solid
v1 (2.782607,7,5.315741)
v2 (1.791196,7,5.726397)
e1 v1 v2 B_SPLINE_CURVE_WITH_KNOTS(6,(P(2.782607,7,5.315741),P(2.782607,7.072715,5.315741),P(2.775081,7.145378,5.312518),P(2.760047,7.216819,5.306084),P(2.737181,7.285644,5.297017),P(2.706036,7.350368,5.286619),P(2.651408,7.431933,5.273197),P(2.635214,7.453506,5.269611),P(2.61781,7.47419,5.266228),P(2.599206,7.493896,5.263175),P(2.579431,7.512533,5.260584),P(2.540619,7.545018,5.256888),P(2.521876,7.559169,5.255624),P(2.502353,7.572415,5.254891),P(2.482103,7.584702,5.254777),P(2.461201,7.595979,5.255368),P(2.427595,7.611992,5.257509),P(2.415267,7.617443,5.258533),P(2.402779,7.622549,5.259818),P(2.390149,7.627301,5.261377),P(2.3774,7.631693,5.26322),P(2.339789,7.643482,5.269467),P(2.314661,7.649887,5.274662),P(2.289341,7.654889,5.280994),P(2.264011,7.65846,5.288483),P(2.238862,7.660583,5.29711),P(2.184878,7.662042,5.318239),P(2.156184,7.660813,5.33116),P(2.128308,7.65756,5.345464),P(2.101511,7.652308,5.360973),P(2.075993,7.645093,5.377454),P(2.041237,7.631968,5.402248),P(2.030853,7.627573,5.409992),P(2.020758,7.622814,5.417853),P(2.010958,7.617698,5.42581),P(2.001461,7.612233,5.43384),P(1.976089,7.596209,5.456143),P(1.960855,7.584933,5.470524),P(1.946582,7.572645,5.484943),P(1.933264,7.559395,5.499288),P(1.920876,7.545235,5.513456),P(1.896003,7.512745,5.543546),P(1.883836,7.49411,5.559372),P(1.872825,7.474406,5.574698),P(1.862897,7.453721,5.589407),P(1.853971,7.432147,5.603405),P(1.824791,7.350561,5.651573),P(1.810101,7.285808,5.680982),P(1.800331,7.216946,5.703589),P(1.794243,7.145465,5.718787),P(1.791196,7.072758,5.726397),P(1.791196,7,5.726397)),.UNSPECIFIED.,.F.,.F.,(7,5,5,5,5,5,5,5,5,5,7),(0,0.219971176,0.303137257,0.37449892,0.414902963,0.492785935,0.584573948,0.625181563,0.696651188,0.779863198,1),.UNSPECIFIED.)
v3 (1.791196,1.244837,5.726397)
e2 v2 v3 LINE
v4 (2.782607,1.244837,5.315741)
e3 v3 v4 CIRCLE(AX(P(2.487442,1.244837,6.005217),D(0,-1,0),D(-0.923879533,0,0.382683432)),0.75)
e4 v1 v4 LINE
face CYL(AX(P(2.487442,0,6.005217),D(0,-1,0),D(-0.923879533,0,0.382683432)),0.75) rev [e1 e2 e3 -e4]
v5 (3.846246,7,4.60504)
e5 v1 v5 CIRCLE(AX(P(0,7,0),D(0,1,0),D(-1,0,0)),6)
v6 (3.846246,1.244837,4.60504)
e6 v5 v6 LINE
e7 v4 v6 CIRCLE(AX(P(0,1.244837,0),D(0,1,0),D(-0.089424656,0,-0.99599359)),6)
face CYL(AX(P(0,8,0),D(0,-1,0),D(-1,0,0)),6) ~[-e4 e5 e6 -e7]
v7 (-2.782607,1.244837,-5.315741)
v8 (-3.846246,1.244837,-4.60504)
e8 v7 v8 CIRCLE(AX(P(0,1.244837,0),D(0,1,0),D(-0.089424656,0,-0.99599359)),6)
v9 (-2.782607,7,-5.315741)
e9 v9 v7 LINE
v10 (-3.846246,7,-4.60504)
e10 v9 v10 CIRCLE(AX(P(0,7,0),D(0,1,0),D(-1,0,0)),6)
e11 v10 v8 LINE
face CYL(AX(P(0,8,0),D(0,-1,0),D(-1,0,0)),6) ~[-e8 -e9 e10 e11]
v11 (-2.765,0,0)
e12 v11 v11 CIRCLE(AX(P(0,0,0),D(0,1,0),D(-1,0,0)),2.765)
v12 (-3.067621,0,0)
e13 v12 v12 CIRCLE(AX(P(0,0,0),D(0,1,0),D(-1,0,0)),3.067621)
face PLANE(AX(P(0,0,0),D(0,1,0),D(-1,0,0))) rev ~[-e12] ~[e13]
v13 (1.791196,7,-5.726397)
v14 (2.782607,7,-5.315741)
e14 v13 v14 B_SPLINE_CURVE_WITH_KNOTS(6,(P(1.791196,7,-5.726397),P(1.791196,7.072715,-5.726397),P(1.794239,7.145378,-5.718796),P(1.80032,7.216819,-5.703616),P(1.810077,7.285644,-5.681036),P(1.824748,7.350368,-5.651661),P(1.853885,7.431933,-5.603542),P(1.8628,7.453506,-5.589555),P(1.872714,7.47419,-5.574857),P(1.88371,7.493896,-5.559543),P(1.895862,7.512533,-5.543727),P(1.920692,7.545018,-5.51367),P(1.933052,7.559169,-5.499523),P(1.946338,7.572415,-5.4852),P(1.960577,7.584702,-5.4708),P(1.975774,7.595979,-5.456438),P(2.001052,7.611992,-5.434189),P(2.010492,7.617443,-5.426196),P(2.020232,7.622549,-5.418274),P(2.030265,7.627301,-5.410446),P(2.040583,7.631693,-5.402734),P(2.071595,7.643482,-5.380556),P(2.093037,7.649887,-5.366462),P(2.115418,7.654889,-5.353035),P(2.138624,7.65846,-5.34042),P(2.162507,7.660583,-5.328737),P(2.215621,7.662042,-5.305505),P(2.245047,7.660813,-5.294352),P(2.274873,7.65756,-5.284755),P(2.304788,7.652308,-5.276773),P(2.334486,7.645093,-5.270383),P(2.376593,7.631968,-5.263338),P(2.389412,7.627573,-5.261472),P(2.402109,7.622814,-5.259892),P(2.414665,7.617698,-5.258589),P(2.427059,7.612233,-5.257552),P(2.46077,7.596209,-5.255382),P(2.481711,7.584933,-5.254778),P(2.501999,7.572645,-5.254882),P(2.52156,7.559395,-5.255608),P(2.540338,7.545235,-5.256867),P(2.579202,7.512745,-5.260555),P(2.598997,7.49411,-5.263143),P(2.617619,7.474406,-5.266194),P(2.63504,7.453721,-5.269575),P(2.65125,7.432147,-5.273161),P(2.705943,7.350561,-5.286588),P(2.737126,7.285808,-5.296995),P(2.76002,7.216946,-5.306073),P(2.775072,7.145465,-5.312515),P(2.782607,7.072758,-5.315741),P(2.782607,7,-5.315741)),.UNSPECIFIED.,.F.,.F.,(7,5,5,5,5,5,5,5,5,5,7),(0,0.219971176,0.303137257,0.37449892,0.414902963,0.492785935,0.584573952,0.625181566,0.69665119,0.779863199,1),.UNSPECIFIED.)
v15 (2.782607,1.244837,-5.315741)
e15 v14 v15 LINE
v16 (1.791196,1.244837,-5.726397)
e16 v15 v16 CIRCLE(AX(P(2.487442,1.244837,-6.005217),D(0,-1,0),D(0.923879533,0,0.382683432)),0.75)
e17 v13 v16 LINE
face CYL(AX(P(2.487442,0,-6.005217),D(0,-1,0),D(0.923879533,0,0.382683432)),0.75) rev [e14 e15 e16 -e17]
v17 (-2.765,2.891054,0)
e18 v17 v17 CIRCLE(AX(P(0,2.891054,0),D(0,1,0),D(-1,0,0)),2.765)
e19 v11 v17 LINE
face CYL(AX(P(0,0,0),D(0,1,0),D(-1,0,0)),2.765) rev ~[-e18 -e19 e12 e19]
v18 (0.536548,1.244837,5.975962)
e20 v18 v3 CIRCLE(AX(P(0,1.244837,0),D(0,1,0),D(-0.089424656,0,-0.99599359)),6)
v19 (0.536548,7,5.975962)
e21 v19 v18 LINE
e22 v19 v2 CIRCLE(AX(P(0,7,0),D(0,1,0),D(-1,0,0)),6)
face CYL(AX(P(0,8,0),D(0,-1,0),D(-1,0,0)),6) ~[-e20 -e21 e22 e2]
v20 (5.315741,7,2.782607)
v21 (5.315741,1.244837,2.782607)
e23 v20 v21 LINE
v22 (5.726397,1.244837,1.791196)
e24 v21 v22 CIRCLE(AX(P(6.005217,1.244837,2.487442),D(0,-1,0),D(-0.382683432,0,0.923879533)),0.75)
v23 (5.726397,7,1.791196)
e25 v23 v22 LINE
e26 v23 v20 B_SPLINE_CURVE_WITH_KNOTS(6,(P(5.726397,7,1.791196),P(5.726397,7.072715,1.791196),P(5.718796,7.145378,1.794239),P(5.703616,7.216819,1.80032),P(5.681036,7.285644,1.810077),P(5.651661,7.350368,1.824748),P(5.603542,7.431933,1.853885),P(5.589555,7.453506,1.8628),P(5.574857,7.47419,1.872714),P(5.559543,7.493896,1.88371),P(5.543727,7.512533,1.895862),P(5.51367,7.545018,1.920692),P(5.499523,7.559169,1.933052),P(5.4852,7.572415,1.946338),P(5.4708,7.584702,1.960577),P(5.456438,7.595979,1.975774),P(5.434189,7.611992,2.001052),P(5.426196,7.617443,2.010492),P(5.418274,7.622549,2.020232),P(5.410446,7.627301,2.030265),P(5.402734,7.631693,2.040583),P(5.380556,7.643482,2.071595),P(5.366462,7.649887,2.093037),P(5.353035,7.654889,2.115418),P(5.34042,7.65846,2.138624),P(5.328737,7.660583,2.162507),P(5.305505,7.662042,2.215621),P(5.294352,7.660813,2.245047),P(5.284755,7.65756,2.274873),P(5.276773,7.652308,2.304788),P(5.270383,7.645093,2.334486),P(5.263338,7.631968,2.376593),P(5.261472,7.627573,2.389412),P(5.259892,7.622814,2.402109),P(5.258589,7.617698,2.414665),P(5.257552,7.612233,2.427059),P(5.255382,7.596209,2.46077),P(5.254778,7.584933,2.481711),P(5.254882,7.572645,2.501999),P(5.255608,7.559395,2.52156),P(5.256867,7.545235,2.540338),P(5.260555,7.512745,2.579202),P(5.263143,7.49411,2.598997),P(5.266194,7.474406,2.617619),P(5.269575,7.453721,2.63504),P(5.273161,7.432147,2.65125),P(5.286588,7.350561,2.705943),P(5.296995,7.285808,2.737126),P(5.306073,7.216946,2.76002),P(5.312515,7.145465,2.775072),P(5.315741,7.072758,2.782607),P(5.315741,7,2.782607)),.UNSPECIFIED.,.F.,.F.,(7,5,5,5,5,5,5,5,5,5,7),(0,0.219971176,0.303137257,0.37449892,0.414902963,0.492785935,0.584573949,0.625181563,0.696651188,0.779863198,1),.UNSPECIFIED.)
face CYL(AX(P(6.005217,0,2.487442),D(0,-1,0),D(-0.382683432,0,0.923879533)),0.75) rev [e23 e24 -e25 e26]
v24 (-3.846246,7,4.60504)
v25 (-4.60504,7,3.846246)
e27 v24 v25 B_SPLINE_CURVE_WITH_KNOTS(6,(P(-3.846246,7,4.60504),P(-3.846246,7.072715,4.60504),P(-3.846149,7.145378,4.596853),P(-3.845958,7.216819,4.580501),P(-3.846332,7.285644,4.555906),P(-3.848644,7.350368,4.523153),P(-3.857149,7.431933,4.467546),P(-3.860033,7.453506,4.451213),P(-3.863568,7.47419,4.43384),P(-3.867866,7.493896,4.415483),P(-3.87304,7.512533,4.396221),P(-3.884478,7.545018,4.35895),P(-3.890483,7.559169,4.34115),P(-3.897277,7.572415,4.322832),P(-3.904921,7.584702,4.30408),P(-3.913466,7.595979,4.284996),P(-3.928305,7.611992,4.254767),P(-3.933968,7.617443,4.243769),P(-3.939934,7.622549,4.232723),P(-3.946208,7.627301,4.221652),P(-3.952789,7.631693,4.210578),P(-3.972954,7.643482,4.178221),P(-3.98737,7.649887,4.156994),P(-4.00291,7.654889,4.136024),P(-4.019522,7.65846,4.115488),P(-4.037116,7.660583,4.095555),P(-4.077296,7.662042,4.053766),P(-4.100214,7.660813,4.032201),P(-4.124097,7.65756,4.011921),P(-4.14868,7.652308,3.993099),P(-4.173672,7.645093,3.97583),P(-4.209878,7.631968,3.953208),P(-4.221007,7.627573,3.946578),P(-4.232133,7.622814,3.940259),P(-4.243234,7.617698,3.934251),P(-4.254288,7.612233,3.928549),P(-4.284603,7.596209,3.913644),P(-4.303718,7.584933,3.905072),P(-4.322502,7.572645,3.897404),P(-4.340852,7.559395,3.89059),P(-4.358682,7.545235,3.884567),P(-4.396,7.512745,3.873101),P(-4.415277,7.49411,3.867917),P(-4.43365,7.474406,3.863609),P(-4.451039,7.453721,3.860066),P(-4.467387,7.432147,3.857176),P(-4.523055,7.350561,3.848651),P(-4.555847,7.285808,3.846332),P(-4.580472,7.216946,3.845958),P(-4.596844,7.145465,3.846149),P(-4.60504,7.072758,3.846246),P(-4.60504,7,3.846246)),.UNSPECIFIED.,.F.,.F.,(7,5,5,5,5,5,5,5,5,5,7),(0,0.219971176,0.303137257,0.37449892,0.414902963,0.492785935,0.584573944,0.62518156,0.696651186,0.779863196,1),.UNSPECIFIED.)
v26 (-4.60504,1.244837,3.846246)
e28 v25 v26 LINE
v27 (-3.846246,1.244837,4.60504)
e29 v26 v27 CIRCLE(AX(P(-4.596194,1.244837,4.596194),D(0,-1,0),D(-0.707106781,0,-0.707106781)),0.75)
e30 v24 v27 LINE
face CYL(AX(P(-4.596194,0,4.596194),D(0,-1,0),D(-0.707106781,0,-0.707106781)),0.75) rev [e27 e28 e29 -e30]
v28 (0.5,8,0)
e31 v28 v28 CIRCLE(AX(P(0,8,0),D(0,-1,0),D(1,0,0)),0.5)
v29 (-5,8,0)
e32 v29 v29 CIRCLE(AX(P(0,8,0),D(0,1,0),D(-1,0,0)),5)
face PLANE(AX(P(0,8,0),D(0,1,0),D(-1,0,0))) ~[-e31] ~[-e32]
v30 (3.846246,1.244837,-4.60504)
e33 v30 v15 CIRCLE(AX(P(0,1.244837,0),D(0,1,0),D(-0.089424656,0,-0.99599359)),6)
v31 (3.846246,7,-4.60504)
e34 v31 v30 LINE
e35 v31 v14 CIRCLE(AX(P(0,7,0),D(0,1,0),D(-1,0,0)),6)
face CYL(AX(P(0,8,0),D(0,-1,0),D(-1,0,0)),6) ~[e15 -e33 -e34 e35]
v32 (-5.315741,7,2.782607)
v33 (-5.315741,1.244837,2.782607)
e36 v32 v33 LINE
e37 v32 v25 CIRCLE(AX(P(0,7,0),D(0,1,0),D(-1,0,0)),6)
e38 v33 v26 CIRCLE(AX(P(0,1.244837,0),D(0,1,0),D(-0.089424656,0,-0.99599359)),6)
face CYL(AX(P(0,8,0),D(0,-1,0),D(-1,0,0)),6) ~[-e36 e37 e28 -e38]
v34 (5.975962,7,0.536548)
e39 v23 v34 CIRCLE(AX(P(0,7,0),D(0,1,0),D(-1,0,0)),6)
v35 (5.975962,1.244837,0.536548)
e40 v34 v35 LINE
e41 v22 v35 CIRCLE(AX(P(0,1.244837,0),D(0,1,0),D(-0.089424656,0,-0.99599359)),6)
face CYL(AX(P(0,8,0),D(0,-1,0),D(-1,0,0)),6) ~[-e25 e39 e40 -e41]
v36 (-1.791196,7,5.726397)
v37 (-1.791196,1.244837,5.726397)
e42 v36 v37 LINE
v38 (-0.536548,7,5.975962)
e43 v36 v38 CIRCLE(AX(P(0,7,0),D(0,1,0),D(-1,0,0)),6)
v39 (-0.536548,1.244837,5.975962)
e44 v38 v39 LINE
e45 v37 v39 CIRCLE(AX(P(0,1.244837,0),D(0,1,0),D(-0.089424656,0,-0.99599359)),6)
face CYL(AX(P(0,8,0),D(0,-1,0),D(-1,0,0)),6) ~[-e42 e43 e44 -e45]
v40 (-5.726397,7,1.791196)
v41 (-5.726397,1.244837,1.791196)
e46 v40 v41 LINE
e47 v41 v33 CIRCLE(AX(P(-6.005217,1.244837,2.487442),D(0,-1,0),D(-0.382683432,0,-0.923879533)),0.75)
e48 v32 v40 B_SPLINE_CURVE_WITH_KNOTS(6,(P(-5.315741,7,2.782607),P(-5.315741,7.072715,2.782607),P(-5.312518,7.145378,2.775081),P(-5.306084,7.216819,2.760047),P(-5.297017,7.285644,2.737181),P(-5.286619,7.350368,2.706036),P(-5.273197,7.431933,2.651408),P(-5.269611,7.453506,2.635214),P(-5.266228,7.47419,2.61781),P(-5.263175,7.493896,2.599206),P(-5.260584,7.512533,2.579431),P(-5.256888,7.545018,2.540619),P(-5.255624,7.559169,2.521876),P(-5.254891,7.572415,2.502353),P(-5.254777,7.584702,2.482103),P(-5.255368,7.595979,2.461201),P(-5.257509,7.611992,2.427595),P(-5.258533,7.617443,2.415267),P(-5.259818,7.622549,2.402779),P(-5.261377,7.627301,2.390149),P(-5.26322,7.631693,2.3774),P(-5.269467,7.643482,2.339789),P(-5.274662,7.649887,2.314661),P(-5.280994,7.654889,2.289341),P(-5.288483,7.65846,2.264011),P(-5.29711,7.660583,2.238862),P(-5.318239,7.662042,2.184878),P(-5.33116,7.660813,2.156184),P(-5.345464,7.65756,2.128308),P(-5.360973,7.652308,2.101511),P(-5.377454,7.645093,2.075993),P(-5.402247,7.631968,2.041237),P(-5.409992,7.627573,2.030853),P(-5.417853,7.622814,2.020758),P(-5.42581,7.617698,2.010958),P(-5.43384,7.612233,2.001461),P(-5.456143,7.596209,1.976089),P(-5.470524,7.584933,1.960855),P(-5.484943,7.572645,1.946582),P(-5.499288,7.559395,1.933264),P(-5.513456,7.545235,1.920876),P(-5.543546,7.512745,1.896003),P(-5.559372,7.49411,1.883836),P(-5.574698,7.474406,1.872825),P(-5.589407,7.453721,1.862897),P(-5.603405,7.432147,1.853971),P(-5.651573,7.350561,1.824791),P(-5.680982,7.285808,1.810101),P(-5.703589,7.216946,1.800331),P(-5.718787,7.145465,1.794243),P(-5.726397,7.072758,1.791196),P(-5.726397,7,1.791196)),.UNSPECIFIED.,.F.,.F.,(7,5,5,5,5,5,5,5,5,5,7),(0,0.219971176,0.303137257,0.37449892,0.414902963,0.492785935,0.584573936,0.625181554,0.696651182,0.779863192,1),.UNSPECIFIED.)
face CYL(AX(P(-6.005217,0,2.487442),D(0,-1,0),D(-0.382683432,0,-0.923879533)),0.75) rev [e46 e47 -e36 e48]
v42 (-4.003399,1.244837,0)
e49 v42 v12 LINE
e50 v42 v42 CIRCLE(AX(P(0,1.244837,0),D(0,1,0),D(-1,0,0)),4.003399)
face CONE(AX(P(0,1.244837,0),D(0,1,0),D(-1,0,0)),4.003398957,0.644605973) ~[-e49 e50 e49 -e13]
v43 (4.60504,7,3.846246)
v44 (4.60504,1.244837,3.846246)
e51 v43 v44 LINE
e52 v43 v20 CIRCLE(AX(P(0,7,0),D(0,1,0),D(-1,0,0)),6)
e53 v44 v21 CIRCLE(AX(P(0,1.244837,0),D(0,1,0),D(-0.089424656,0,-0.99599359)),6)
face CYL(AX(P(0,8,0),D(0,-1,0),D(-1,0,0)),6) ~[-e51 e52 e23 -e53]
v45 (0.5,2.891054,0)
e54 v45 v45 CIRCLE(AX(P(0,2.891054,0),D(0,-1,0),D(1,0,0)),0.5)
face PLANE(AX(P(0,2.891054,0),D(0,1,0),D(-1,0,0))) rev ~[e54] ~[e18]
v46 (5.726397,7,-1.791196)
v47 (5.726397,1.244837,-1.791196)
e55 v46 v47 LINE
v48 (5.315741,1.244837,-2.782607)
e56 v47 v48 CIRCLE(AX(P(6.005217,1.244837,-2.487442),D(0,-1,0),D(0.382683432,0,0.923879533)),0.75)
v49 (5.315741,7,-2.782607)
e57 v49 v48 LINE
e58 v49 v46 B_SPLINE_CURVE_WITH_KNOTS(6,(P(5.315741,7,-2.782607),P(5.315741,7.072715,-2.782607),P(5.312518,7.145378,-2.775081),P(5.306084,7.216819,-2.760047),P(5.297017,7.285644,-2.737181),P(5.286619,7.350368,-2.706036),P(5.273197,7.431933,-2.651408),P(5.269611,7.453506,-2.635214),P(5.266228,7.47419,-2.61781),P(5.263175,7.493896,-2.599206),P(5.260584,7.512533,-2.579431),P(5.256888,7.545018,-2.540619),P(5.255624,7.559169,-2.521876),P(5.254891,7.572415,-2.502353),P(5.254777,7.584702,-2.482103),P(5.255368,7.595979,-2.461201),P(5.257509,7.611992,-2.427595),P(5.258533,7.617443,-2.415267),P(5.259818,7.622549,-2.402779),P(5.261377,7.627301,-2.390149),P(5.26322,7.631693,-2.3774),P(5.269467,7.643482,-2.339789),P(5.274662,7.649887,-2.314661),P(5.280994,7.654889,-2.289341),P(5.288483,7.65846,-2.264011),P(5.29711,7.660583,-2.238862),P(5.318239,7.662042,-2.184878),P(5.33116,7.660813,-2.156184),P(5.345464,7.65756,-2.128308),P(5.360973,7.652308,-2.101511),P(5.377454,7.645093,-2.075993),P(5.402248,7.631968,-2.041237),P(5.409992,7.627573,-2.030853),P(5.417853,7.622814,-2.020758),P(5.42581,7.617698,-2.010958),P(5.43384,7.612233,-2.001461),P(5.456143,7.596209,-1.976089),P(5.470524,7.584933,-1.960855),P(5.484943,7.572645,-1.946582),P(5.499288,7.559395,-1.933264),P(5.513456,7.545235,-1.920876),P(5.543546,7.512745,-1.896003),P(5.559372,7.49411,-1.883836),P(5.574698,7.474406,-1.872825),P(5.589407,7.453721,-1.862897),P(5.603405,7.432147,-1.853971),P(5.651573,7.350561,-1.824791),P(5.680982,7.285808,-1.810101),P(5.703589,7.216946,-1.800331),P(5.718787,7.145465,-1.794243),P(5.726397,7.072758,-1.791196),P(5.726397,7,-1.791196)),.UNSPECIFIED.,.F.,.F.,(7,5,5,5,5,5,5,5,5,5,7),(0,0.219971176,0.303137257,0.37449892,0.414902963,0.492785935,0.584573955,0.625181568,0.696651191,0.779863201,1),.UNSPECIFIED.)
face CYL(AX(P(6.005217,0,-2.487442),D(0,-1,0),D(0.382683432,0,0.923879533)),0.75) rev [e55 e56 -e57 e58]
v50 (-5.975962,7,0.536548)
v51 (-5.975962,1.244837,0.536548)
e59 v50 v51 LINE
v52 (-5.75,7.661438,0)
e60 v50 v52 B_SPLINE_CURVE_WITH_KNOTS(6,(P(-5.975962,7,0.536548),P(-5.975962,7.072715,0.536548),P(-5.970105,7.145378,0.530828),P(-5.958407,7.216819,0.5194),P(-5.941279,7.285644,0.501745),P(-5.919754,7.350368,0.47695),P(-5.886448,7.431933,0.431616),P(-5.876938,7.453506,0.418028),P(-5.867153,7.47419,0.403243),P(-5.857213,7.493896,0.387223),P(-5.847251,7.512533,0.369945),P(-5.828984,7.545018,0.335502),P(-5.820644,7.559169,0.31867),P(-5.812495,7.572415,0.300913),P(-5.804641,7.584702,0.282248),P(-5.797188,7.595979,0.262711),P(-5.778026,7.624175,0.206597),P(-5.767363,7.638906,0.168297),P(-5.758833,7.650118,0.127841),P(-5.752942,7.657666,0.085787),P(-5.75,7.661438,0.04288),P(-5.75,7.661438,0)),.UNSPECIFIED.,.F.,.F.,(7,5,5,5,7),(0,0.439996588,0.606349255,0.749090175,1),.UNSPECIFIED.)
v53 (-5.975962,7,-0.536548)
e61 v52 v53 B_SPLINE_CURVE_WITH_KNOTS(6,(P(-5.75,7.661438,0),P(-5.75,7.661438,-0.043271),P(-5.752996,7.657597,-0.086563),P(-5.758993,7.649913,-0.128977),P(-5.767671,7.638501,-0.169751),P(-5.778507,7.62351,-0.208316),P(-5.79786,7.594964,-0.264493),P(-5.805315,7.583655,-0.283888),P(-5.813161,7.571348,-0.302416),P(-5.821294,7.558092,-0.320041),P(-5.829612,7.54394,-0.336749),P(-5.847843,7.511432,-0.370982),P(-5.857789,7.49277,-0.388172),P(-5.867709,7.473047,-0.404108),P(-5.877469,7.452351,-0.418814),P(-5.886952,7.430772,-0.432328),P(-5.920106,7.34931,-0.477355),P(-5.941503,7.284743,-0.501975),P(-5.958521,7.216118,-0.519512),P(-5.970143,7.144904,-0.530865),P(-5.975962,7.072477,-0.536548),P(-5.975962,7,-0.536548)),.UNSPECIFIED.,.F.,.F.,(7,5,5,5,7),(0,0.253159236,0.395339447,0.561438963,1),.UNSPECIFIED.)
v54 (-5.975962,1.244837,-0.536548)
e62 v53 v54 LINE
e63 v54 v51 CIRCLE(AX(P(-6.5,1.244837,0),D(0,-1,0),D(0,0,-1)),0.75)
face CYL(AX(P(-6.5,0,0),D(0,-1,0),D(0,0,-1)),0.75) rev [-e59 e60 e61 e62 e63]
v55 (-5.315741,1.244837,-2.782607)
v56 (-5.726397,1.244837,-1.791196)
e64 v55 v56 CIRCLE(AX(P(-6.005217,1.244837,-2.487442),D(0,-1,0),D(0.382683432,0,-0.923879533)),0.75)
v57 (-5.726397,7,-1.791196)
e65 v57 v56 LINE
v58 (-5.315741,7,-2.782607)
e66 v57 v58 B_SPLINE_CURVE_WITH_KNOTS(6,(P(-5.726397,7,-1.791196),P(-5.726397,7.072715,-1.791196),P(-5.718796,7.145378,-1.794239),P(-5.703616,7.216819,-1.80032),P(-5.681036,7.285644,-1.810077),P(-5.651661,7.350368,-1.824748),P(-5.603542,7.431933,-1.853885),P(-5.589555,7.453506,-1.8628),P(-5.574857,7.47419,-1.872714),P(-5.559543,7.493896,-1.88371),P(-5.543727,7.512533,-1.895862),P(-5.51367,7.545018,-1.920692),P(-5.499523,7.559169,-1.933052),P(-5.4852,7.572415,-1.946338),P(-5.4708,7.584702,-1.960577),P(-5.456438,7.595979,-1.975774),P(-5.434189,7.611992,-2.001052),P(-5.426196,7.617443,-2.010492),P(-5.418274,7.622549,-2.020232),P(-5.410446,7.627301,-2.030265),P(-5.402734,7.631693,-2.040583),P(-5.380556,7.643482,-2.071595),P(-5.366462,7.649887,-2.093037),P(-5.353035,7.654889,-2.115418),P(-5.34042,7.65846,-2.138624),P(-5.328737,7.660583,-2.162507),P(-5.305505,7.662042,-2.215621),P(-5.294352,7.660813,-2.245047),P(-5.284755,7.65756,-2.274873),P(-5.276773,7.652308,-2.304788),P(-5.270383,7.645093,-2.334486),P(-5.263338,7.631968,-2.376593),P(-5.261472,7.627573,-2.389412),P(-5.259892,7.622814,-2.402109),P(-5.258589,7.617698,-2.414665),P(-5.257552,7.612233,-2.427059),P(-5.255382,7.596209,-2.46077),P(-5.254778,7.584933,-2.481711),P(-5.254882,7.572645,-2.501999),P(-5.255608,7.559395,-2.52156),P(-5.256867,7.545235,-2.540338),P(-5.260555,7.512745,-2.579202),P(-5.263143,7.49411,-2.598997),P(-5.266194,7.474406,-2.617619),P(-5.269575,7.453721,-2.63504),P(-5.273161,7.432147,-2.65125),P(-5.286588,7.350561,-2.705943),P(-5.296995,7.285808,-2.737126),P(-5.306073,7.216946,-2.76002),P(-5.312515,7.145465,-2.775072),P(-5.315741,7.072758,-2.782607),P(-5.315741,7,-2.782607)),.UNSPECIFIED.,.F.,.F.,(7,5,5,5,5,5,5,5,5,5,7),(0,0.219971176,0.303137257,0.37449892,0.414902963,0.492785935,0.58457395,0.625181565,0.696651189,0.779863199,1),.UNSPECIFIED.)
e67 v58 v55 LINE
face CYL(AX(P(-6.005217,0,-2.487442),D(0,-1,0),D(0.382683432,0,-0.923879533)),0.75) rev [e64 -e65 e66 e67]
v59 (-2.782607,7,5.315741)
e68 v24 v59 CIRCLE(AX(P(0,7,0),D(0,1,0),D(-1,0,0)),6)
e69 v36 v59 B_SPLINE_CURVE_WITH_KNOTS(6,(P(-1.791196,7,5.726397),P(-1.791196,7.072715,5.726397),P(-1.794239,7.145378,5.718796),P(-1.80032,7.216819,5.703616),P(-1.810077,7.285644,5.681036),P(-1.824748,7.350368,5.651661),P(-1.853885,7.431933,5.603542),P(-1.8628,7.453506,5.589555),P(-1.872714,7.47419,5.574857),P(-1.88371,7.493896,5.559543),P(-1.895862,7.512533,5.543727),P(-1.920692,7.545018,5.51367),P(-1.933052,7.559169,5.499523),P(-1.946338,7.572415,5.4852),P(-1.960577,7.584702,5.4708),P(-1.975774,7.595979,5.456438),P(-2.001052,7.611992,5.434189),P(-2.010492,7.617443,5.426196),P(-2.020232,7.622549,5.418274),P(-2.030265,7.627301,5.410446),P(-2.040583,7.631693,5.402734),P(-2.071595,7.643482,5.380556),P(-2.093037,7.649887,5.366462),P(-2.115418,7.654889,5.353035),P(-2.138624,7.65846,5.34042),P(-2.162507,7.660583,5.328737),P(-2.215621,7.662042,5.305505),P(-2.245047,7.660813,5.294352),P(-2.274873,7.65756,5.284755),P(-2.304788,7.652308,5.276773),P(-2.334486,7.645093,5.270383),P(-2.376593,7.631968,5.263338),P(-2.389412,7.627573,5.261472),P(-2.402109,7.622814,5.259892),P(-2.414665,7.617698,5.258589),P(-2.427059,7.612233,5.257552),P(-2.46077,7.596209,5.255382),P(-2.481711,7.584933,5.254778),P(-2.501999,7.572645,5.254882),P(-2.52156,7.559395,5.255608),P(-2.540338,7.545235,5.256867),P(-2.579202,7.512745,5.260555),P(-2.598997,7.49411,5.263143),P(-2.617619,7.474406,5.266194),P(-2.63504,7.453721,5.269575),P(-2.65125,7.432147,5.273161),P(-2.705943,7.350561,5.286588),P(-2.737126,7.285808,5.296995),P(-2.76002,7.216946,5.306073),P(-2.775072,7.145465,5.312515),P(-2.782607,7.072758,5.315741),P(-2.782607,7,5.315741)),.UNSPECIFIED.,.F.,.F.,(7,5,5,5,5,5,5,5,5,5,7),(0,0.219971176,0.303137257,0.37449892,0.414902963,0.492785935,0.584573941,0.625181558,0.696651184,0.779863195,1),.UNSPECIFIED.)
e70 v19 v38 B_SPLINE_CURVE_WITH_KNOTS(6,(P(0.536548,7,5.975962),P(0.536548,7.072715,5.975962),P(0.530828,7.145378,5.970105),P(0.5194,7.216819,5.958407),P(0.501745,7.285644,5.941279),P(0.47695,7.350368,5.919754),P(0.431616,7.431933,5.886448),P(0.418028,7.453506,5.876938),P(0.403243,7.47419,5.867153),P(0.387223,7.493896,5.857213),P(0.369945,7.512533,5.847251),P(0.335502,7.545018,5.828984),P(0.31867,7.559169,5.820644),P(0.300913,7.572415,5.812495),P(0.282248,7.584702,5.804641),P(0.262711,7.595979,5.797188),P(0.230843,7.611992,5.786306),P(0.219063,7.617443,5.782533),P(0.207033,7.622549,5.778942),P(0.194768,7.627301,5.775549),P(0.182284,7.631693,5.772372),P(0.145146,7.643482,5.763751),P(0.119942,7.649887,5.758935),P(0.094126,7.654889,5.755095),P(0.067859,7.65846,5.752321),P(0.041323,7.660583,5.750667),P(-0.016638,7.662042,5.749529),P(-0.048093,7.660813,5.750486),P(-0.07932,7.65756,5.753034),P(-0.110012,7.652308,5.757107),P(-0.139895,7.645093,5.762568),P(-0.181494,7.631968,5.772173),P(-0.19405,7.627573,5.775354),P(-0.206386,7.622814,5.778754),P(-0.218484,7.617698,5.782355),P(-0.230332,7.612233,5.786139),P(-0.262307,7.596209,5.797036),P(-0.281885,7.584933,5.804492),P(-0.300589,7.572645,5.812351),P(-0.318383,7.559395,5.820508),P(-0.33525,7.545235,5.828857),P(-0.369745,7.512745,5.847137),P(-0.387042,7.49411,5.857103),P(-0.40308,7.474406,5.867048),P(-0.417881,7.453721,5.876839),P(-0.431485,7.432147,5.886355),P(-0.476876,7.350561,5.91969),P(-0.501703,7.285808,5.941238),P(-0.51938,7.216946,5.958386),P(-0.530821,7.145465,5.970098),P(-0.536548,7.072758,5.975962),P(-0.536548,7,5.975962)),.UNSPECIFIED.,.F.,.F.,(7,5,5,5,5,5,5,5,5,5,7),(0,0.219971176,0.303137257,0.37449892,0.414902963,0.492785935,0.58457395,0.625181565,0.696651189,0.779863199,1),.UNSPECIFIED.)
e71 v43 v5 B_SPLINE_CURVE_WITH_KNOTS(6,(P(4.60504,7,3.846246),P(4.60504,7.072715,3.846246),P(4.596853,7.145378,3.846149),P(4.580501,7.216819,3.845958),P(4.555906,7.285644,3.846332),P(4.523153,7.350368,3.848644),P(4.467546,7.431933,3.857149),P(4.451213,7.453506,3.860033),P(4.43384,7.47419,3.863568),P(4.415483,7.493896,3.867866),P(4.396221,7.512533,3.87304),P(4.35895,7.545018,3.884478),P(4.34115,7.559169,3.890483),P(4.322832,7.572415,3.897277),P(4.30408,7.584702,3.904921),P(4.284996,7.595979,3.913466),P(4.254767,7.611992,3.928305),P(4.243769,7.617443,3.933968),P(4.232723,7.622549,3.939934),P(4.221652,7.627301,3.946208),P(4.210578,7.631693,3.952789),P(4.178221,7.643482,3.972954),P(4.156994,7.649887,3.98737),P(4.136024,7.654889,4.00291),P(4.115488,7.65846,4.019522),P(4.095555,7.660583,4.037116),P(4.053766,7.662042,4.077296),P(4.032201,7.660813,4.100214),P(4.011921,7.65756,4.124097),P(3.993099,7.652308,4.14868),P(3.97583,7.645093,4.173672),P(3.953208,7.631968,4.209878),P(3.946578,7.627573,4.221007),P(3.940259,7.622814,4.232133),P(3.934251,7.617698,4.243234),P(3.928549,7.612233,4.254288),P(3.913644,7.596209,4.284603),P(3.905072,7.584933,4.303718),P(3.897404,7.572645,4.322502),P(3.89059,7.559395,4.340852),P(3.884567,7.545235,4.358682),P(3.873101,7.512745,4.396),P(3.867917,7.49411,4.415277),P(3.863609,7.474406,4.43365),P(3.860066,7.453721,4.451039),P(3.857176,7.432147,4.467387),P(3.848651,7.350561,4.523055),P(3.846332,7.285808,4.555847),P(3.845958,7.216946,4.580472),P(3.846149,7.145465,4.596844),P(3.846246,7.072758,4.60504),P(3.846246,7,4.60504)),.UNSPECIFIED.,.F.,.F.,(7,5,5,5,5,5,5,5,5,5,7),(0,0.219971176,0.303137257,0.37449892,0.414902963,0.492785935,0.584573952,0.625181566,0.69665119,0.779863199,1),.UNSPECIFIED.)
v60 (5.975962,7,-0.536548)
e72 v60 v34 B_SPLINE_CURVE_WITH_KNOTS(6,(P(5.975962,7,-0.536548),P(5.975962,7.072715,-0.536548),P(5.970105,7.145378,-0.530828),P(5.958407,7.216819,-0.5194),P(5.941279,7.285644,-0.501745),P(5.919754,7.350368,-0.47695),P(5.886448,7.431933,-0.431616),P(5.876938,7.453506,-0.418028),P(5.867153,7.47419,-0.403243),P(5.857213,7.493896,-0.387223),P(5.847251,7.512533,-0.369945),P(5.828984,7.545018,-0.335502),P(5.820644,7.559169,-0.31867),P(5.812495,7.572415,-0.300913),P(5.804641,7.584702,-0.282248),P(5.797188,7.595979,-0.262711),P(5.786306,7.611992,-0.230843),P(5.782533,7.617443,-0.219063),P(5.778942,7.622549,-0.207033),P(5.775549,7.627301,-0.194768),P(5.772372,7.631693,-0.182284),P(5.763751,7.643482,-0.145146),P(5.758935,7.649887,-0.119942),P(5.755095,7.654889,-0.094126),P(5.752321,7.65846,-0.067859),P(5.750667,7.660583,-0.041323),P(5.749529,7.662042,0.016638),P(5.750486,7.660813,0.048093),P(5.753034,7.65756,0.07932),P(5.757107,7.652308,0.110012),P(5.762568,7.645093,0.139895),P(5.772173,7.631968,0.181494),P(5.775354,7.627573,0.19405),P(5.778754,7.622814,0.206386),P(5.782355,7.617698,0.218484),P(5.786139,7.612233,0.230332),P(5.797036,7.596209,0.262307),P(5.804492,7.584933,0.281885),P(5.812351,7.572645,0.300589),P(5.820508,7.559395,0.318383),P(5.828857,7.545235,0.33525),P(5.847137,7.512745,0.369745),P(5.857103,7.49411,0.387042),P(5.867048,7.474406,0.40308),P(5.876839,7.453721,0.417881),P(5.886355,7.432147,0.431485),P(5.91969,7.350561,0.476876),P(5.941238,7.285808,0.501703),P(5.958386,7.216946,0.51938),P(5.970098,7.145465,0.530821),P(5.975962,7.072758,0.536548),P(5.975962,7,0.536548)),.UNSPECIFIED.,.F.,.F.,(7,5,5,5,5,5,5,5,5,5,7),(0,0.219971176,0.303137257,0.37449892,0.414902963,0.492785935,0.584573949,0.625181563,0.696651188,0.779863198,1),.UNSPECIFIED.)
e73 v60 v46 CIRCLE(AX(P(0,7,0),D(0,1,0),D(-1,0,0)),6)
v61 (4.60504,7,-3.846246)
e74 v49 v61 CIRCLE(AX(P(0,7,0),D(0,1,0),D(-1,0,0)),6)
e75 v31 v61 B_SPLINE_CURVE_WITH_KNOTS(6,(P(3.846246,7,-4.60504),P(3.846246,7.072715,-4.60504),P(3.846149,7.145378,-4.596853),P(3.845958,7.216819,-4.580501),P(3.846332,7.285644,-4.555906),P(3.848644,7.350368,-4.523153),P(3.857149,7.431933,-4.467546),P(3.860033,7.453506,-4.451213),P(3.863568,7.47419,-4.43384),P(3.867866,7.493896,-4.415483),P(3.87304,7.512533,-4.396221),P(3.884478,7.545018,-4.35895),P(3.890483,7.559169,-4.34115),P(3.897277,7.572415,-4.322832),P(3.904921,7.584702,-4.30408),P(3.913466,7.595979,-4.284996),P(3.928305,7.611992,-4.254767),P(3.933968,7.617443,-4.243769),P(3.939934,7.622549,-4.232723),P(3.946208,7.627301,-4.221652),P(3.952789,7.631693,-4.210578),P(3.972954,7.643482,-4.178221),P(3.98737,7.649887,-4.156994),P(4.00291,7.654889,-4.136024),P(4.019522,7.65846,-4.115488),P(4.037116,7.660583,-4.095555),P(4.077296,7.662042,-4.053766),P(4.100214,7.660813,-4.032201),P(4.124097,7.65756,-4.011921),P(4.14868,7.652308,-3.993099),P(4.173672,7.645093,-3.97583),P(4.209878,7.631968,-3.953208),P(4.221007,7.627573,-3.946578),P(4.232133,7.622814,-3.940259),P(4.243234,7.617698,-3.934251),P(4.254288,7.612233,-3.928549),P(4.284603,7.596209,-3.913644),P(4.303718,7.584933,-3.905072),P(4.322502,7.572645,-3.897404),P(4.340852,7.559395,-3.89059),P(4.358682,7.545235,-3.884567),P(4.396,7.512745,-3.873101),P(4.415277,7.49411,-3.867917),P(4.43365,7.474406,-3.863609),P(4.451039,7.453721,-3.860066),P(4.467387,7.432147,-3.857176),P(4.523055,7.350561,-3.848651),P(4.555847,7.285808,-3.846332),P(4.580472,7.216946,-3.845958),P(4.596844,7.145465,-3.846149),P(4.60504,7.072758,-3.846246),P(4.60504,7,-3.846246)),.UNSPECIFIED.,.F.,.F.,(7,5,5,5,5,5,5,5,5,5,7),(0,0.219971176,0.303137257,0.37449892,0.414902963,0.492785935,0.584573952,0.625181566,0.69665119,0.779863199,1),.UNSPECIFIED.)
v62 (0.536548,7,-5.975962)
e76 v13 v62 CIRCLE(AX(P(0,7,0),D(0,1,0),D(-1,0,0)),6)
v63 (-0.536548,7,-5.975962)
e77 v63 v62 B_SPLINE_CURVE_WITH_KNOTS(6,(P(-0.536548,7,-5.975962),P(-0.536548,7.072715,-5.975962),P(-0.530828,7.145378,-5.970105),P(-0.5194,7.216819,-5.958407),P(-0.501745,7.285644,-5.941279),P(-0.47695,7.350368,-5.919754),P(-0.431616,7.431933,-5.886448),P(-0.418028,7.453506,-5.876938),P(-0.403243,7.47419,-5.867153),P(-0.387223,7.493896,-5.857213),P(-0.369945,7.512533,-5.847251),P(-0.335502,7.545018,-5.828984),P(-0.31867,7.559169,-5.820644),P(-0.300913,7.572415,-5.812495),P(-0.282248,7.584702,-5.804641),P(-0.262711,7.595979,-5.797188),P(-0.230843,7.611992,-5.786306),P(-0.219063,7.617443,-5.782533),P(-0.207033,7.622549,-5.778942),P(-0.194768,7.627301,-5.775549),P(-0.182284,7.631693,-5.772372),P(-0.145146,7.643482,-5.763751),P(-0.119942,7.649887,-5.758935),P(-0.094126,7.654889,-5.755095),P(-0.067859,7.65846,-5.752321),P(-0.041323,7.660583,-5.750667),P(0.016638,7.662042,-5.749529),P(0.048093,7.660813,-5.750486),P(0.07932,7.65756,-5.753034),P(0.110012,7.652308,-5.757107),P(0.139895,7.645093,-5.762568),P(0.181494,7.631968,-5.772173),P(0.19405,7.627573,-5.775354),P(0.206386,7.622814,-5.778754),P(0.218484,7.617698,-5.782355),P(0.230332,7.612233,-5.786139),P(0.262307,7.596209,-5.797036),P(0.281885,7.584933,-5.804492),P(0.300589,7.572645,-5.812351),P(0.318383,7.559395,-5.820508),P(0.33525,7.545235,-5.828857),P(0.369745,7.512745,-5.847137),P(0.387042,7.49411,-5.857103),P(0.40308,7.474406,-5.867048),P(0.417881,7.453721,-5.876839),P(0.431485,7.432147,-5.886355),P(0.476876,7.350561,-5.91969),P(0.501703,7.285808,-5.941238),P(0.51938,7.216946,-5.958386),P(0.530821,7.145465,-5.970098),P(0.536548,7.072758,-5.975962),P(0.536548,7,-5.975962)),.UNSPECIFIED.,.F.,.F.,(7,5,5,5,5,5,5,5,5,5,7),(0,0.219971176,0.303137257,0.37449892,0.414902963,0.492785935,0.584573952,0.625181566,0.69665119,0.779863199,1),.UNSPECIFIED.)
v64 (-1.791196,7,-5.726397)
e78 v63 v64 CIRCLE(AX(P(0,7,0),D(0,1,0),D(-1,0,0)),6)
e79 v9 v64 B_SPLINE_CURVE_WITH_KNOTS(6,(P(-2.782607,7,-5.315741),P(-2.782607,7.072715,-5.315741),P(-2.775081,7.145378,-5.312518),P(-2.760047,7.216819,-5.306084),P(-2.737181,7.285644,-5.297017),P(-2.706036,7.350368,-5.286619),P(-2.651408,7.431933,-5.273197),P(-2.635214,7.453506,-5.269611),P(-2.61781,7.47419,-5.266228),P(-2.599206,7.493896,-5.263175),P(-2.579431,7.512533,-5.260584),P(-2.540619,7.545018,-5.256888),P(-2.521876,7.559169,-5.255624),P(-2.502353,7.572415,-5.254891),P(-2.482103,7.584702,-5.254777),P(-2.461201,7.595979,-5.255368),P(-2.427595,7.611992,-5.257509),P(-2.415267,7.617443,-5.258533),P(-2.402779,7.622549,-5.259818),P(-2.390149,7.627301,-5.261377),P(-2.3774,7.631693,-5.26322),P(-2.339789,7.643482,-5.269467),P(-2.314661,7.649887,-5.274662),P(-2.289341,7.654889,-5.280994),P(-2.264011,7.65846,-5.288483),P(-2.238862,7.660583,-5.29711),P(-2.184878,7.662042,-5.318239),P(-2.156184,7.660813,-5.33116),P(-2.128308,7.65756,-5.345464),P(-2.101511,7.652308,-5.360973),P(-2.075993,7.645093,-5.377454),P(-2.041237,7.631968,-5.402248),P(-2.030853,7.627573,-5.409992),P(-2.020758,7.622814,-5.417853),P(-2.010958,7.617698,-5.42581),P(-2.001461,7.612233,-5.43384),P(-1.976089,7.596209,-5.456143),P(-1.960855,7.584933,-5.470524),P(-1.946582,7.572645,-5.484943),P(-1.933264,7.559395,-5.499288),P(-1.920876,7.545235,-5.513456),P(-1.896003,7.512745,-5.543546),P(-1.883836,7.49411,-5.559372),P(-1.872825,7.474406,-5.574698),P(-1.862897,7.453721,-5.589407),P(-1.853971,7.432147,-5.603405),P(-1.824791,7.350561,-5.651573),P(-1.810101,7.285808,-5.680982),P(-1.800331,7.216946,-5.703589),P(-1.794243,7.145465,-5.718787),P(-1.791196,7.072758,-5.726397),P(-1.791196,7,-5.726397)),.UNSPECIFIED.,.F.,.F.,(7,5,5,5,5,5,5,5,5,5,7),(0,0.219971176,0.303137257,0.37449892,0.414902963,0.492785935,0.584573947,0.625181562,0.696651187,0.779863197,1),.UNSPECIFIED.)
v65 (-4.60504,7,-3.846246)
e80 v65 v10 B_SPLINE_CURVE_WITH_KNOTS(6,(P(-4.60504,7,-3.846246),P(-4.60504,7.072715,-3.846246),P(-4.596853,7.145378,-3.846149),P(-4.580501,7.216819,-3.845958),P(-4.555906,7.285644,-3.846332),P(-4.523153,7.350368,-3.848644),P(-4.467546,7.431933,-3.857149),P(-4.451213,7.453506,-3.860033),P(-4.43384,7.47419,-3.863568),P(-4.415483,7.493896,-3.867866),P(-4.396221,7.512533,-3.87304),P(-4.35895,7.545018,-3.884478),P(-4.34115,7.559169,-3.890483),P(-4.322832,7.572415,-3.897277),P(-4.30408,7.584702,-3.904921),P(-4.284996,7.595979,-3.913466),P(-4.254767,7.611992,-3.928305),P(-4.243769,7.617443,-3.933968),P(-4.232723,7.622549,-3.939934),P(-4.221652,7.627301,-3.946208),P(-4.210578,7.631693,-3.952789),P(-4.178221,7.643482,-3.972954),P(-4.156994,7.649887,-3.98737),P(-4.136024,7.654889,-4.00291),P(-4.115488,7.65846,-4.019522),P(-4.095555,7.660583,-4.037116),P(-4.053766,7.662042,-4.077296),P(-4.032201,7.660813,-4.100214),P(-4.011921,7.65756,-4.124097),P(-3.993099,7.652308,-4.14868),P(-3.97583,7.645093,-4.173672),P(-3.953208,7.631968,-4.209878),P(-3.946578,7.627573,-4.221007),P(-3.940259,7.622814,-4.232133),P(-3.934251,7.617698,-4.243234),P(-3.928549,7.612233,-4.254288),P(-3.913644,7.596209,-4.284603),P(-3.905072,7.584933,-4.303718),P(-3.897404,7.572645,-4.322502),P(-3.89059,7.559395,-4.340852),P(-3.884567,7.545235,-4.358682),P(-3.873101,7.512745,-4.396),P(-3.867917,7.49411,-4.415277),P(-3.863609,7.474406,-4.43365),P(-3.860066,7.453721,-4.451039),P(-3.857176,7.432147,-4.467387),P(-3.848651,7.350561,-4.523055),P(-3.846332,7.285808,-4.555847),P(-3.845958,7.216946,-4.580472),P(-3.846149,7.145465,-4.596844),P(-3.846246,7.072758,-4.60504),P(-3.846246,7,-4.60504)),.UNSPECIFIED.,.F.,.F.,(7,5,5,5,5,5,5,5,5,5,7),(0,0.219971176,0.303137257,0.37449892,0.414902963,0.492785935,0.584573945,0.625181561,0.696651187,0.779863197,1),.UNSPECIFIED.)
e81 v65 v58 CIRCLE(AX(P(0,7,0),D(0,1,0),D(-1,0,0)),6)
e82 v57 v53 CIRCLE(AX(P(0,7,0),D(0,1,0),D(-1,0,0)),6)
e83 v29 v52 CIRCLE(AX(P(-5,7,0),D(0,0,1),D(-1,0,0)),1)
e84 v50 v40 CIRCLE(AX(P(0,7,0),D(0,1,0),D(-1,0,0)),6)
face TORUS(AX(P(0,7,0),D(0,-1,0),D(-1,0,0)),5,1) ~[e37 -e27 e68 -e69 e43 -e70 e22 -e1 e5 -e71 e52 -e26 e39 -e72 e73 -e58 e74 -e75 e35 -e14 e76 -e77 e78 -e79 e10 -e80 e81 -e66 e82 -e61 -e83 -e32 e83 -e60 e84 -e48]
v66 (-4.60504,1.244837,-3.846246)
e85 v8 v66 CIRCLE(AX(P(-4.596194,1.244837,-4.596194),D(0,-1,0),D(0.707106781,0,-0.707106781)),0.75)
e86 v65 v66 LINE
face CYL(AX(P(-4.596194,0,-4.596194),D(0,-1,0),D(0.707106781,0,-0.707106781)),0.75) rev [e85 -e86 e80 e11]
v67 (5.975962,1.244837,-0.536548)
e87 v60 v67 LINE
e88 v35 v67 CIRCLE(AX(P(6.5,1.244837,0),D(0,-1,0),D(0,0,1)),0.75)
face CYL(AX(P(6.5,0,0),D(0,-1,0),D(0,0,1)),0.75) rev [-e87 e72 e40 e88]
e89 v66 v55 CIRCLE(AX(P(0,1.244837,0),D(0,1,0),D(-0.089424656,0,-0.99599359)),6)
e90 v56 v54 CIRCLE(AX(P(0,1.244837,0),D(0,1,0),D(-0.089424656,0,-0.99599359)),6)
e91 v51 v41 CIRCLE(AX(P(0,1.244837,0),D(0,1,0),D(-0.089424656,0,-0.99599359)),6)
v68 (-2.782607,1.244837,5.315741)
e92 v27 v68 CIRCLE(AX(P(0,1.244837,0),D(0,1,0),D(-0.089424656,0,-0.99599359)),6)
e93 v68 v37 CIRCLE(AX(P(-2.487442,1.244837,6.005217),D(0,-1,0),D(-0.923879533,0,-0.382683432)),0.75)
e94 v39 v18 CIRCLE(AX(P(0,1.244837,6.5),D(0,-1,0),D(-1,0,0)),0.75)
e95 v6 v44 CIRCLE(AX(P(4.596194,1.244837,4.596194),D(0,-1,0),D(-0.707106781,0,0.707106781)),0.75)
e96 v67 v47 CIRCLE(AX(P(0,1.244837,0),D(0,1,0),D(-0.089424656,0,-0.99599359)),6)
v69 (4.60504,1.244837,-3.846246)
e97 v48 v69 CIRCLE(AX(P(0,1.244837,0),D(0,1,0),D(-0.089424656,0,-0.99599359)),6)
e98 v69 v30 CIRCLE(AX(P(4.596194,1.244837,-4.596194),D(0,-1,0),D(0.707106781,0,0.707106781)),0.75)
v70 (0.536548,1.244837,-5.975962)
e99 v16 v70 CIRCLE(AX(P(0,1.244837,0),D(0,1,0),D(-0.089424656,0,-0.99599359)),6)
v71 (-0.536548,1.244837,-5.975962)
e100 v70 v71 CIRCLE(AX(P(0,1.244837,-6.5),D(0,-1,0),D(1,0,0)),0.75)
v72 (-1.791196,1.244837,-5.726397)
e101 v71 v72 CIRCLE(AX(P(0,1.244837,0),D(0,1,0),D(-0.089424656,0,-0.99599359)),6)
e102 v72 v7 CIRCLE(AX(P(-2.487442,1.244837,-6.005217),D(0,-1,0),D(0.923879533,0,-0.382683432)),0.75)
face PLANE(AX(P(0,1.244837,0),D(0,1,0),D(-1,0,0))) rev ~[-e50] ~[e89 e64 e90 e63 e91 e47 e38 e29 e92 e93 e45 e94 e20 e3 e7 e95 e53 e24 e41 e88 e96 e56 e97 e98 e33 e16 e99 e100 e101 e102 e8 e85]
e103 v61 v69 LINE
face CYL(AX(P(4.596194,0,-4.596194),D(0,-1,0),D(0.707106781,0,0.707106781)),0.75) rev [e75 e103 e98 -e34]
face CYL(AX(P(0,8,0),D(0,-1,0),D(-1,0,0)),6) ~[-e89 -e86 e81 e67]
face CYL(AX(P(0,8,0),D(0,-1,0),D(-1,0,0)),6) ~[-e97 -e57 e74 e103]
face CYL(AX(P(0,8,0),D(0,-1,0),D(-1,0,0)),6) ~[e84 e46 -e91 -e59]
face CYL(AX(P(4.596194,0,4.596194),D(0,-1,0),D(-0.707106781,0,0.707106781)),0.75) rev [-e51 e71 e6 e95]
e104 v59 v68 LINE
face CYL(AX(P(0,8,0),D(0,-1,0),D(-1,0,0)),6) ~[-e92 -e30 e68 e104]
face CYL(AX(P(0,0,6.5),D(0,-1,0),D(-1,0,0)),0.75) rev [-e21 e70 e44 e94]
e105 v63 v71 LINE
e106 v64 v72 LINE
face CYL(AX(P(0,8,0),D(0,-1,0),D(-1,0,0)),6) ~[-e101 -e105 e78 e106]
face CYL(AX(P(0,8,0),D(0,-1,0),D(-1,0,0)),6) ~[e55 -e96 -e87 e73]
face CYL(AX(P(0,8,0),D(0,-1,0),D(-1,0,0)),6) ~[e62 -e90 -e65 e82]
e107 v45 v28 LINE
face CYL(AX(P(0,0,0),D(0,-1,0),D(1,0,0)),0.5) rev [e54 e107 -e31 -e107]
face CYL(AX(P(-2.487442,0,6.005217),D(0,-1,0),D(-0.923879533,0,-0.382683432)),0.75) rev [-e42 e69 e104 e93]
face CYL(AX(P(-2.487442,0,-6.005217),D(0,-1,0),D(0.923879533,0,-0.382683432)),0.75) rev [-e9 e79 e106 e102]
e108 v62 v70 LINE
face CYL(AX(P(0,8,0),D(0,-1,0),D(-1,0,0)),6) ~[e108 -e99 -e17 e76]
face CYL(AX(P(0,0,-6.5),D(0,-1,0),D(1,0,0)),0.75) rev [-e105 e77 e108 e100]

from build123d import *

# Parameters (mm, degrees)
FILLET1_R          = 1
SKETCH2_R          = 0.75
CUT_EXTRUDE1_DEPTH = 9
CIRPATTERN1_COUNT  = 16
SKETCH3_R          = 0.5
CUT_EXTRUDE2_DEPTH = 9.0000001


with BuildPart() as part:
    # Sketch1 → Revolve1 (revolve)
    with BuildSketch(Plane.XY):
        Polygon((-2.765, 0), (-2.765, 2.891054023), (0, 2.891054023), (0, 8), (-6, 8), (-6, 1.24483654), (-4.003398957, 1.24483654), (-3.067620744, 0), align=None)
    revolve(axis=Axis((0, 2.891054023, 0), (0, 1, 0)))

    # Fillet1
    fillet1_edges = [part.edges().sort_by_distance(p)[0] for p in [
        (6, 8, 0),
    ]]
    fillet(fillet1_edges, radius=FILLET1_R)

    # Sketch2 → Cut-Extrude1 (cut, through all)
    with BuildSketch(Plane(origin=(0, 0, 0), x_dir=(1, 0, 0), z_dir=(0, 1, 0))):
        with Locations((0, 6.5)):
            Circle(SKETCH2_R)
    cut_extrude1 = extrude(amount=CUT_EXTRUDE1_DEPTH, mode=Mode.SUBTRACT)

    # CirPattern1: Cut-Extrude1 ×16 about axis
    cirpattern1_axis = Axis((0, 0, 0), (0, 1, 0))
    for i in range(1, CIRPATTERN1_COUNT):
        add(cut_extrude1.rotate(cirpattern1_axis, i * 360 / CIRPATTERN1_COUNT), mode=Mode.SUBTRACT)

    # Sketch3 → Cut-Extrude2 (cut, through all)
    with BuildSketch(Plane(origin=(0, 0, 0), x_dir=(1, 0, 0), z_dir=(0, 1, 0))):
        Circle(SKETCH3_R)
    extrude(amount=CUT_EXTRUDE2_DEPTH, mode=Mode.SUBTRACT)


solid = part.part
